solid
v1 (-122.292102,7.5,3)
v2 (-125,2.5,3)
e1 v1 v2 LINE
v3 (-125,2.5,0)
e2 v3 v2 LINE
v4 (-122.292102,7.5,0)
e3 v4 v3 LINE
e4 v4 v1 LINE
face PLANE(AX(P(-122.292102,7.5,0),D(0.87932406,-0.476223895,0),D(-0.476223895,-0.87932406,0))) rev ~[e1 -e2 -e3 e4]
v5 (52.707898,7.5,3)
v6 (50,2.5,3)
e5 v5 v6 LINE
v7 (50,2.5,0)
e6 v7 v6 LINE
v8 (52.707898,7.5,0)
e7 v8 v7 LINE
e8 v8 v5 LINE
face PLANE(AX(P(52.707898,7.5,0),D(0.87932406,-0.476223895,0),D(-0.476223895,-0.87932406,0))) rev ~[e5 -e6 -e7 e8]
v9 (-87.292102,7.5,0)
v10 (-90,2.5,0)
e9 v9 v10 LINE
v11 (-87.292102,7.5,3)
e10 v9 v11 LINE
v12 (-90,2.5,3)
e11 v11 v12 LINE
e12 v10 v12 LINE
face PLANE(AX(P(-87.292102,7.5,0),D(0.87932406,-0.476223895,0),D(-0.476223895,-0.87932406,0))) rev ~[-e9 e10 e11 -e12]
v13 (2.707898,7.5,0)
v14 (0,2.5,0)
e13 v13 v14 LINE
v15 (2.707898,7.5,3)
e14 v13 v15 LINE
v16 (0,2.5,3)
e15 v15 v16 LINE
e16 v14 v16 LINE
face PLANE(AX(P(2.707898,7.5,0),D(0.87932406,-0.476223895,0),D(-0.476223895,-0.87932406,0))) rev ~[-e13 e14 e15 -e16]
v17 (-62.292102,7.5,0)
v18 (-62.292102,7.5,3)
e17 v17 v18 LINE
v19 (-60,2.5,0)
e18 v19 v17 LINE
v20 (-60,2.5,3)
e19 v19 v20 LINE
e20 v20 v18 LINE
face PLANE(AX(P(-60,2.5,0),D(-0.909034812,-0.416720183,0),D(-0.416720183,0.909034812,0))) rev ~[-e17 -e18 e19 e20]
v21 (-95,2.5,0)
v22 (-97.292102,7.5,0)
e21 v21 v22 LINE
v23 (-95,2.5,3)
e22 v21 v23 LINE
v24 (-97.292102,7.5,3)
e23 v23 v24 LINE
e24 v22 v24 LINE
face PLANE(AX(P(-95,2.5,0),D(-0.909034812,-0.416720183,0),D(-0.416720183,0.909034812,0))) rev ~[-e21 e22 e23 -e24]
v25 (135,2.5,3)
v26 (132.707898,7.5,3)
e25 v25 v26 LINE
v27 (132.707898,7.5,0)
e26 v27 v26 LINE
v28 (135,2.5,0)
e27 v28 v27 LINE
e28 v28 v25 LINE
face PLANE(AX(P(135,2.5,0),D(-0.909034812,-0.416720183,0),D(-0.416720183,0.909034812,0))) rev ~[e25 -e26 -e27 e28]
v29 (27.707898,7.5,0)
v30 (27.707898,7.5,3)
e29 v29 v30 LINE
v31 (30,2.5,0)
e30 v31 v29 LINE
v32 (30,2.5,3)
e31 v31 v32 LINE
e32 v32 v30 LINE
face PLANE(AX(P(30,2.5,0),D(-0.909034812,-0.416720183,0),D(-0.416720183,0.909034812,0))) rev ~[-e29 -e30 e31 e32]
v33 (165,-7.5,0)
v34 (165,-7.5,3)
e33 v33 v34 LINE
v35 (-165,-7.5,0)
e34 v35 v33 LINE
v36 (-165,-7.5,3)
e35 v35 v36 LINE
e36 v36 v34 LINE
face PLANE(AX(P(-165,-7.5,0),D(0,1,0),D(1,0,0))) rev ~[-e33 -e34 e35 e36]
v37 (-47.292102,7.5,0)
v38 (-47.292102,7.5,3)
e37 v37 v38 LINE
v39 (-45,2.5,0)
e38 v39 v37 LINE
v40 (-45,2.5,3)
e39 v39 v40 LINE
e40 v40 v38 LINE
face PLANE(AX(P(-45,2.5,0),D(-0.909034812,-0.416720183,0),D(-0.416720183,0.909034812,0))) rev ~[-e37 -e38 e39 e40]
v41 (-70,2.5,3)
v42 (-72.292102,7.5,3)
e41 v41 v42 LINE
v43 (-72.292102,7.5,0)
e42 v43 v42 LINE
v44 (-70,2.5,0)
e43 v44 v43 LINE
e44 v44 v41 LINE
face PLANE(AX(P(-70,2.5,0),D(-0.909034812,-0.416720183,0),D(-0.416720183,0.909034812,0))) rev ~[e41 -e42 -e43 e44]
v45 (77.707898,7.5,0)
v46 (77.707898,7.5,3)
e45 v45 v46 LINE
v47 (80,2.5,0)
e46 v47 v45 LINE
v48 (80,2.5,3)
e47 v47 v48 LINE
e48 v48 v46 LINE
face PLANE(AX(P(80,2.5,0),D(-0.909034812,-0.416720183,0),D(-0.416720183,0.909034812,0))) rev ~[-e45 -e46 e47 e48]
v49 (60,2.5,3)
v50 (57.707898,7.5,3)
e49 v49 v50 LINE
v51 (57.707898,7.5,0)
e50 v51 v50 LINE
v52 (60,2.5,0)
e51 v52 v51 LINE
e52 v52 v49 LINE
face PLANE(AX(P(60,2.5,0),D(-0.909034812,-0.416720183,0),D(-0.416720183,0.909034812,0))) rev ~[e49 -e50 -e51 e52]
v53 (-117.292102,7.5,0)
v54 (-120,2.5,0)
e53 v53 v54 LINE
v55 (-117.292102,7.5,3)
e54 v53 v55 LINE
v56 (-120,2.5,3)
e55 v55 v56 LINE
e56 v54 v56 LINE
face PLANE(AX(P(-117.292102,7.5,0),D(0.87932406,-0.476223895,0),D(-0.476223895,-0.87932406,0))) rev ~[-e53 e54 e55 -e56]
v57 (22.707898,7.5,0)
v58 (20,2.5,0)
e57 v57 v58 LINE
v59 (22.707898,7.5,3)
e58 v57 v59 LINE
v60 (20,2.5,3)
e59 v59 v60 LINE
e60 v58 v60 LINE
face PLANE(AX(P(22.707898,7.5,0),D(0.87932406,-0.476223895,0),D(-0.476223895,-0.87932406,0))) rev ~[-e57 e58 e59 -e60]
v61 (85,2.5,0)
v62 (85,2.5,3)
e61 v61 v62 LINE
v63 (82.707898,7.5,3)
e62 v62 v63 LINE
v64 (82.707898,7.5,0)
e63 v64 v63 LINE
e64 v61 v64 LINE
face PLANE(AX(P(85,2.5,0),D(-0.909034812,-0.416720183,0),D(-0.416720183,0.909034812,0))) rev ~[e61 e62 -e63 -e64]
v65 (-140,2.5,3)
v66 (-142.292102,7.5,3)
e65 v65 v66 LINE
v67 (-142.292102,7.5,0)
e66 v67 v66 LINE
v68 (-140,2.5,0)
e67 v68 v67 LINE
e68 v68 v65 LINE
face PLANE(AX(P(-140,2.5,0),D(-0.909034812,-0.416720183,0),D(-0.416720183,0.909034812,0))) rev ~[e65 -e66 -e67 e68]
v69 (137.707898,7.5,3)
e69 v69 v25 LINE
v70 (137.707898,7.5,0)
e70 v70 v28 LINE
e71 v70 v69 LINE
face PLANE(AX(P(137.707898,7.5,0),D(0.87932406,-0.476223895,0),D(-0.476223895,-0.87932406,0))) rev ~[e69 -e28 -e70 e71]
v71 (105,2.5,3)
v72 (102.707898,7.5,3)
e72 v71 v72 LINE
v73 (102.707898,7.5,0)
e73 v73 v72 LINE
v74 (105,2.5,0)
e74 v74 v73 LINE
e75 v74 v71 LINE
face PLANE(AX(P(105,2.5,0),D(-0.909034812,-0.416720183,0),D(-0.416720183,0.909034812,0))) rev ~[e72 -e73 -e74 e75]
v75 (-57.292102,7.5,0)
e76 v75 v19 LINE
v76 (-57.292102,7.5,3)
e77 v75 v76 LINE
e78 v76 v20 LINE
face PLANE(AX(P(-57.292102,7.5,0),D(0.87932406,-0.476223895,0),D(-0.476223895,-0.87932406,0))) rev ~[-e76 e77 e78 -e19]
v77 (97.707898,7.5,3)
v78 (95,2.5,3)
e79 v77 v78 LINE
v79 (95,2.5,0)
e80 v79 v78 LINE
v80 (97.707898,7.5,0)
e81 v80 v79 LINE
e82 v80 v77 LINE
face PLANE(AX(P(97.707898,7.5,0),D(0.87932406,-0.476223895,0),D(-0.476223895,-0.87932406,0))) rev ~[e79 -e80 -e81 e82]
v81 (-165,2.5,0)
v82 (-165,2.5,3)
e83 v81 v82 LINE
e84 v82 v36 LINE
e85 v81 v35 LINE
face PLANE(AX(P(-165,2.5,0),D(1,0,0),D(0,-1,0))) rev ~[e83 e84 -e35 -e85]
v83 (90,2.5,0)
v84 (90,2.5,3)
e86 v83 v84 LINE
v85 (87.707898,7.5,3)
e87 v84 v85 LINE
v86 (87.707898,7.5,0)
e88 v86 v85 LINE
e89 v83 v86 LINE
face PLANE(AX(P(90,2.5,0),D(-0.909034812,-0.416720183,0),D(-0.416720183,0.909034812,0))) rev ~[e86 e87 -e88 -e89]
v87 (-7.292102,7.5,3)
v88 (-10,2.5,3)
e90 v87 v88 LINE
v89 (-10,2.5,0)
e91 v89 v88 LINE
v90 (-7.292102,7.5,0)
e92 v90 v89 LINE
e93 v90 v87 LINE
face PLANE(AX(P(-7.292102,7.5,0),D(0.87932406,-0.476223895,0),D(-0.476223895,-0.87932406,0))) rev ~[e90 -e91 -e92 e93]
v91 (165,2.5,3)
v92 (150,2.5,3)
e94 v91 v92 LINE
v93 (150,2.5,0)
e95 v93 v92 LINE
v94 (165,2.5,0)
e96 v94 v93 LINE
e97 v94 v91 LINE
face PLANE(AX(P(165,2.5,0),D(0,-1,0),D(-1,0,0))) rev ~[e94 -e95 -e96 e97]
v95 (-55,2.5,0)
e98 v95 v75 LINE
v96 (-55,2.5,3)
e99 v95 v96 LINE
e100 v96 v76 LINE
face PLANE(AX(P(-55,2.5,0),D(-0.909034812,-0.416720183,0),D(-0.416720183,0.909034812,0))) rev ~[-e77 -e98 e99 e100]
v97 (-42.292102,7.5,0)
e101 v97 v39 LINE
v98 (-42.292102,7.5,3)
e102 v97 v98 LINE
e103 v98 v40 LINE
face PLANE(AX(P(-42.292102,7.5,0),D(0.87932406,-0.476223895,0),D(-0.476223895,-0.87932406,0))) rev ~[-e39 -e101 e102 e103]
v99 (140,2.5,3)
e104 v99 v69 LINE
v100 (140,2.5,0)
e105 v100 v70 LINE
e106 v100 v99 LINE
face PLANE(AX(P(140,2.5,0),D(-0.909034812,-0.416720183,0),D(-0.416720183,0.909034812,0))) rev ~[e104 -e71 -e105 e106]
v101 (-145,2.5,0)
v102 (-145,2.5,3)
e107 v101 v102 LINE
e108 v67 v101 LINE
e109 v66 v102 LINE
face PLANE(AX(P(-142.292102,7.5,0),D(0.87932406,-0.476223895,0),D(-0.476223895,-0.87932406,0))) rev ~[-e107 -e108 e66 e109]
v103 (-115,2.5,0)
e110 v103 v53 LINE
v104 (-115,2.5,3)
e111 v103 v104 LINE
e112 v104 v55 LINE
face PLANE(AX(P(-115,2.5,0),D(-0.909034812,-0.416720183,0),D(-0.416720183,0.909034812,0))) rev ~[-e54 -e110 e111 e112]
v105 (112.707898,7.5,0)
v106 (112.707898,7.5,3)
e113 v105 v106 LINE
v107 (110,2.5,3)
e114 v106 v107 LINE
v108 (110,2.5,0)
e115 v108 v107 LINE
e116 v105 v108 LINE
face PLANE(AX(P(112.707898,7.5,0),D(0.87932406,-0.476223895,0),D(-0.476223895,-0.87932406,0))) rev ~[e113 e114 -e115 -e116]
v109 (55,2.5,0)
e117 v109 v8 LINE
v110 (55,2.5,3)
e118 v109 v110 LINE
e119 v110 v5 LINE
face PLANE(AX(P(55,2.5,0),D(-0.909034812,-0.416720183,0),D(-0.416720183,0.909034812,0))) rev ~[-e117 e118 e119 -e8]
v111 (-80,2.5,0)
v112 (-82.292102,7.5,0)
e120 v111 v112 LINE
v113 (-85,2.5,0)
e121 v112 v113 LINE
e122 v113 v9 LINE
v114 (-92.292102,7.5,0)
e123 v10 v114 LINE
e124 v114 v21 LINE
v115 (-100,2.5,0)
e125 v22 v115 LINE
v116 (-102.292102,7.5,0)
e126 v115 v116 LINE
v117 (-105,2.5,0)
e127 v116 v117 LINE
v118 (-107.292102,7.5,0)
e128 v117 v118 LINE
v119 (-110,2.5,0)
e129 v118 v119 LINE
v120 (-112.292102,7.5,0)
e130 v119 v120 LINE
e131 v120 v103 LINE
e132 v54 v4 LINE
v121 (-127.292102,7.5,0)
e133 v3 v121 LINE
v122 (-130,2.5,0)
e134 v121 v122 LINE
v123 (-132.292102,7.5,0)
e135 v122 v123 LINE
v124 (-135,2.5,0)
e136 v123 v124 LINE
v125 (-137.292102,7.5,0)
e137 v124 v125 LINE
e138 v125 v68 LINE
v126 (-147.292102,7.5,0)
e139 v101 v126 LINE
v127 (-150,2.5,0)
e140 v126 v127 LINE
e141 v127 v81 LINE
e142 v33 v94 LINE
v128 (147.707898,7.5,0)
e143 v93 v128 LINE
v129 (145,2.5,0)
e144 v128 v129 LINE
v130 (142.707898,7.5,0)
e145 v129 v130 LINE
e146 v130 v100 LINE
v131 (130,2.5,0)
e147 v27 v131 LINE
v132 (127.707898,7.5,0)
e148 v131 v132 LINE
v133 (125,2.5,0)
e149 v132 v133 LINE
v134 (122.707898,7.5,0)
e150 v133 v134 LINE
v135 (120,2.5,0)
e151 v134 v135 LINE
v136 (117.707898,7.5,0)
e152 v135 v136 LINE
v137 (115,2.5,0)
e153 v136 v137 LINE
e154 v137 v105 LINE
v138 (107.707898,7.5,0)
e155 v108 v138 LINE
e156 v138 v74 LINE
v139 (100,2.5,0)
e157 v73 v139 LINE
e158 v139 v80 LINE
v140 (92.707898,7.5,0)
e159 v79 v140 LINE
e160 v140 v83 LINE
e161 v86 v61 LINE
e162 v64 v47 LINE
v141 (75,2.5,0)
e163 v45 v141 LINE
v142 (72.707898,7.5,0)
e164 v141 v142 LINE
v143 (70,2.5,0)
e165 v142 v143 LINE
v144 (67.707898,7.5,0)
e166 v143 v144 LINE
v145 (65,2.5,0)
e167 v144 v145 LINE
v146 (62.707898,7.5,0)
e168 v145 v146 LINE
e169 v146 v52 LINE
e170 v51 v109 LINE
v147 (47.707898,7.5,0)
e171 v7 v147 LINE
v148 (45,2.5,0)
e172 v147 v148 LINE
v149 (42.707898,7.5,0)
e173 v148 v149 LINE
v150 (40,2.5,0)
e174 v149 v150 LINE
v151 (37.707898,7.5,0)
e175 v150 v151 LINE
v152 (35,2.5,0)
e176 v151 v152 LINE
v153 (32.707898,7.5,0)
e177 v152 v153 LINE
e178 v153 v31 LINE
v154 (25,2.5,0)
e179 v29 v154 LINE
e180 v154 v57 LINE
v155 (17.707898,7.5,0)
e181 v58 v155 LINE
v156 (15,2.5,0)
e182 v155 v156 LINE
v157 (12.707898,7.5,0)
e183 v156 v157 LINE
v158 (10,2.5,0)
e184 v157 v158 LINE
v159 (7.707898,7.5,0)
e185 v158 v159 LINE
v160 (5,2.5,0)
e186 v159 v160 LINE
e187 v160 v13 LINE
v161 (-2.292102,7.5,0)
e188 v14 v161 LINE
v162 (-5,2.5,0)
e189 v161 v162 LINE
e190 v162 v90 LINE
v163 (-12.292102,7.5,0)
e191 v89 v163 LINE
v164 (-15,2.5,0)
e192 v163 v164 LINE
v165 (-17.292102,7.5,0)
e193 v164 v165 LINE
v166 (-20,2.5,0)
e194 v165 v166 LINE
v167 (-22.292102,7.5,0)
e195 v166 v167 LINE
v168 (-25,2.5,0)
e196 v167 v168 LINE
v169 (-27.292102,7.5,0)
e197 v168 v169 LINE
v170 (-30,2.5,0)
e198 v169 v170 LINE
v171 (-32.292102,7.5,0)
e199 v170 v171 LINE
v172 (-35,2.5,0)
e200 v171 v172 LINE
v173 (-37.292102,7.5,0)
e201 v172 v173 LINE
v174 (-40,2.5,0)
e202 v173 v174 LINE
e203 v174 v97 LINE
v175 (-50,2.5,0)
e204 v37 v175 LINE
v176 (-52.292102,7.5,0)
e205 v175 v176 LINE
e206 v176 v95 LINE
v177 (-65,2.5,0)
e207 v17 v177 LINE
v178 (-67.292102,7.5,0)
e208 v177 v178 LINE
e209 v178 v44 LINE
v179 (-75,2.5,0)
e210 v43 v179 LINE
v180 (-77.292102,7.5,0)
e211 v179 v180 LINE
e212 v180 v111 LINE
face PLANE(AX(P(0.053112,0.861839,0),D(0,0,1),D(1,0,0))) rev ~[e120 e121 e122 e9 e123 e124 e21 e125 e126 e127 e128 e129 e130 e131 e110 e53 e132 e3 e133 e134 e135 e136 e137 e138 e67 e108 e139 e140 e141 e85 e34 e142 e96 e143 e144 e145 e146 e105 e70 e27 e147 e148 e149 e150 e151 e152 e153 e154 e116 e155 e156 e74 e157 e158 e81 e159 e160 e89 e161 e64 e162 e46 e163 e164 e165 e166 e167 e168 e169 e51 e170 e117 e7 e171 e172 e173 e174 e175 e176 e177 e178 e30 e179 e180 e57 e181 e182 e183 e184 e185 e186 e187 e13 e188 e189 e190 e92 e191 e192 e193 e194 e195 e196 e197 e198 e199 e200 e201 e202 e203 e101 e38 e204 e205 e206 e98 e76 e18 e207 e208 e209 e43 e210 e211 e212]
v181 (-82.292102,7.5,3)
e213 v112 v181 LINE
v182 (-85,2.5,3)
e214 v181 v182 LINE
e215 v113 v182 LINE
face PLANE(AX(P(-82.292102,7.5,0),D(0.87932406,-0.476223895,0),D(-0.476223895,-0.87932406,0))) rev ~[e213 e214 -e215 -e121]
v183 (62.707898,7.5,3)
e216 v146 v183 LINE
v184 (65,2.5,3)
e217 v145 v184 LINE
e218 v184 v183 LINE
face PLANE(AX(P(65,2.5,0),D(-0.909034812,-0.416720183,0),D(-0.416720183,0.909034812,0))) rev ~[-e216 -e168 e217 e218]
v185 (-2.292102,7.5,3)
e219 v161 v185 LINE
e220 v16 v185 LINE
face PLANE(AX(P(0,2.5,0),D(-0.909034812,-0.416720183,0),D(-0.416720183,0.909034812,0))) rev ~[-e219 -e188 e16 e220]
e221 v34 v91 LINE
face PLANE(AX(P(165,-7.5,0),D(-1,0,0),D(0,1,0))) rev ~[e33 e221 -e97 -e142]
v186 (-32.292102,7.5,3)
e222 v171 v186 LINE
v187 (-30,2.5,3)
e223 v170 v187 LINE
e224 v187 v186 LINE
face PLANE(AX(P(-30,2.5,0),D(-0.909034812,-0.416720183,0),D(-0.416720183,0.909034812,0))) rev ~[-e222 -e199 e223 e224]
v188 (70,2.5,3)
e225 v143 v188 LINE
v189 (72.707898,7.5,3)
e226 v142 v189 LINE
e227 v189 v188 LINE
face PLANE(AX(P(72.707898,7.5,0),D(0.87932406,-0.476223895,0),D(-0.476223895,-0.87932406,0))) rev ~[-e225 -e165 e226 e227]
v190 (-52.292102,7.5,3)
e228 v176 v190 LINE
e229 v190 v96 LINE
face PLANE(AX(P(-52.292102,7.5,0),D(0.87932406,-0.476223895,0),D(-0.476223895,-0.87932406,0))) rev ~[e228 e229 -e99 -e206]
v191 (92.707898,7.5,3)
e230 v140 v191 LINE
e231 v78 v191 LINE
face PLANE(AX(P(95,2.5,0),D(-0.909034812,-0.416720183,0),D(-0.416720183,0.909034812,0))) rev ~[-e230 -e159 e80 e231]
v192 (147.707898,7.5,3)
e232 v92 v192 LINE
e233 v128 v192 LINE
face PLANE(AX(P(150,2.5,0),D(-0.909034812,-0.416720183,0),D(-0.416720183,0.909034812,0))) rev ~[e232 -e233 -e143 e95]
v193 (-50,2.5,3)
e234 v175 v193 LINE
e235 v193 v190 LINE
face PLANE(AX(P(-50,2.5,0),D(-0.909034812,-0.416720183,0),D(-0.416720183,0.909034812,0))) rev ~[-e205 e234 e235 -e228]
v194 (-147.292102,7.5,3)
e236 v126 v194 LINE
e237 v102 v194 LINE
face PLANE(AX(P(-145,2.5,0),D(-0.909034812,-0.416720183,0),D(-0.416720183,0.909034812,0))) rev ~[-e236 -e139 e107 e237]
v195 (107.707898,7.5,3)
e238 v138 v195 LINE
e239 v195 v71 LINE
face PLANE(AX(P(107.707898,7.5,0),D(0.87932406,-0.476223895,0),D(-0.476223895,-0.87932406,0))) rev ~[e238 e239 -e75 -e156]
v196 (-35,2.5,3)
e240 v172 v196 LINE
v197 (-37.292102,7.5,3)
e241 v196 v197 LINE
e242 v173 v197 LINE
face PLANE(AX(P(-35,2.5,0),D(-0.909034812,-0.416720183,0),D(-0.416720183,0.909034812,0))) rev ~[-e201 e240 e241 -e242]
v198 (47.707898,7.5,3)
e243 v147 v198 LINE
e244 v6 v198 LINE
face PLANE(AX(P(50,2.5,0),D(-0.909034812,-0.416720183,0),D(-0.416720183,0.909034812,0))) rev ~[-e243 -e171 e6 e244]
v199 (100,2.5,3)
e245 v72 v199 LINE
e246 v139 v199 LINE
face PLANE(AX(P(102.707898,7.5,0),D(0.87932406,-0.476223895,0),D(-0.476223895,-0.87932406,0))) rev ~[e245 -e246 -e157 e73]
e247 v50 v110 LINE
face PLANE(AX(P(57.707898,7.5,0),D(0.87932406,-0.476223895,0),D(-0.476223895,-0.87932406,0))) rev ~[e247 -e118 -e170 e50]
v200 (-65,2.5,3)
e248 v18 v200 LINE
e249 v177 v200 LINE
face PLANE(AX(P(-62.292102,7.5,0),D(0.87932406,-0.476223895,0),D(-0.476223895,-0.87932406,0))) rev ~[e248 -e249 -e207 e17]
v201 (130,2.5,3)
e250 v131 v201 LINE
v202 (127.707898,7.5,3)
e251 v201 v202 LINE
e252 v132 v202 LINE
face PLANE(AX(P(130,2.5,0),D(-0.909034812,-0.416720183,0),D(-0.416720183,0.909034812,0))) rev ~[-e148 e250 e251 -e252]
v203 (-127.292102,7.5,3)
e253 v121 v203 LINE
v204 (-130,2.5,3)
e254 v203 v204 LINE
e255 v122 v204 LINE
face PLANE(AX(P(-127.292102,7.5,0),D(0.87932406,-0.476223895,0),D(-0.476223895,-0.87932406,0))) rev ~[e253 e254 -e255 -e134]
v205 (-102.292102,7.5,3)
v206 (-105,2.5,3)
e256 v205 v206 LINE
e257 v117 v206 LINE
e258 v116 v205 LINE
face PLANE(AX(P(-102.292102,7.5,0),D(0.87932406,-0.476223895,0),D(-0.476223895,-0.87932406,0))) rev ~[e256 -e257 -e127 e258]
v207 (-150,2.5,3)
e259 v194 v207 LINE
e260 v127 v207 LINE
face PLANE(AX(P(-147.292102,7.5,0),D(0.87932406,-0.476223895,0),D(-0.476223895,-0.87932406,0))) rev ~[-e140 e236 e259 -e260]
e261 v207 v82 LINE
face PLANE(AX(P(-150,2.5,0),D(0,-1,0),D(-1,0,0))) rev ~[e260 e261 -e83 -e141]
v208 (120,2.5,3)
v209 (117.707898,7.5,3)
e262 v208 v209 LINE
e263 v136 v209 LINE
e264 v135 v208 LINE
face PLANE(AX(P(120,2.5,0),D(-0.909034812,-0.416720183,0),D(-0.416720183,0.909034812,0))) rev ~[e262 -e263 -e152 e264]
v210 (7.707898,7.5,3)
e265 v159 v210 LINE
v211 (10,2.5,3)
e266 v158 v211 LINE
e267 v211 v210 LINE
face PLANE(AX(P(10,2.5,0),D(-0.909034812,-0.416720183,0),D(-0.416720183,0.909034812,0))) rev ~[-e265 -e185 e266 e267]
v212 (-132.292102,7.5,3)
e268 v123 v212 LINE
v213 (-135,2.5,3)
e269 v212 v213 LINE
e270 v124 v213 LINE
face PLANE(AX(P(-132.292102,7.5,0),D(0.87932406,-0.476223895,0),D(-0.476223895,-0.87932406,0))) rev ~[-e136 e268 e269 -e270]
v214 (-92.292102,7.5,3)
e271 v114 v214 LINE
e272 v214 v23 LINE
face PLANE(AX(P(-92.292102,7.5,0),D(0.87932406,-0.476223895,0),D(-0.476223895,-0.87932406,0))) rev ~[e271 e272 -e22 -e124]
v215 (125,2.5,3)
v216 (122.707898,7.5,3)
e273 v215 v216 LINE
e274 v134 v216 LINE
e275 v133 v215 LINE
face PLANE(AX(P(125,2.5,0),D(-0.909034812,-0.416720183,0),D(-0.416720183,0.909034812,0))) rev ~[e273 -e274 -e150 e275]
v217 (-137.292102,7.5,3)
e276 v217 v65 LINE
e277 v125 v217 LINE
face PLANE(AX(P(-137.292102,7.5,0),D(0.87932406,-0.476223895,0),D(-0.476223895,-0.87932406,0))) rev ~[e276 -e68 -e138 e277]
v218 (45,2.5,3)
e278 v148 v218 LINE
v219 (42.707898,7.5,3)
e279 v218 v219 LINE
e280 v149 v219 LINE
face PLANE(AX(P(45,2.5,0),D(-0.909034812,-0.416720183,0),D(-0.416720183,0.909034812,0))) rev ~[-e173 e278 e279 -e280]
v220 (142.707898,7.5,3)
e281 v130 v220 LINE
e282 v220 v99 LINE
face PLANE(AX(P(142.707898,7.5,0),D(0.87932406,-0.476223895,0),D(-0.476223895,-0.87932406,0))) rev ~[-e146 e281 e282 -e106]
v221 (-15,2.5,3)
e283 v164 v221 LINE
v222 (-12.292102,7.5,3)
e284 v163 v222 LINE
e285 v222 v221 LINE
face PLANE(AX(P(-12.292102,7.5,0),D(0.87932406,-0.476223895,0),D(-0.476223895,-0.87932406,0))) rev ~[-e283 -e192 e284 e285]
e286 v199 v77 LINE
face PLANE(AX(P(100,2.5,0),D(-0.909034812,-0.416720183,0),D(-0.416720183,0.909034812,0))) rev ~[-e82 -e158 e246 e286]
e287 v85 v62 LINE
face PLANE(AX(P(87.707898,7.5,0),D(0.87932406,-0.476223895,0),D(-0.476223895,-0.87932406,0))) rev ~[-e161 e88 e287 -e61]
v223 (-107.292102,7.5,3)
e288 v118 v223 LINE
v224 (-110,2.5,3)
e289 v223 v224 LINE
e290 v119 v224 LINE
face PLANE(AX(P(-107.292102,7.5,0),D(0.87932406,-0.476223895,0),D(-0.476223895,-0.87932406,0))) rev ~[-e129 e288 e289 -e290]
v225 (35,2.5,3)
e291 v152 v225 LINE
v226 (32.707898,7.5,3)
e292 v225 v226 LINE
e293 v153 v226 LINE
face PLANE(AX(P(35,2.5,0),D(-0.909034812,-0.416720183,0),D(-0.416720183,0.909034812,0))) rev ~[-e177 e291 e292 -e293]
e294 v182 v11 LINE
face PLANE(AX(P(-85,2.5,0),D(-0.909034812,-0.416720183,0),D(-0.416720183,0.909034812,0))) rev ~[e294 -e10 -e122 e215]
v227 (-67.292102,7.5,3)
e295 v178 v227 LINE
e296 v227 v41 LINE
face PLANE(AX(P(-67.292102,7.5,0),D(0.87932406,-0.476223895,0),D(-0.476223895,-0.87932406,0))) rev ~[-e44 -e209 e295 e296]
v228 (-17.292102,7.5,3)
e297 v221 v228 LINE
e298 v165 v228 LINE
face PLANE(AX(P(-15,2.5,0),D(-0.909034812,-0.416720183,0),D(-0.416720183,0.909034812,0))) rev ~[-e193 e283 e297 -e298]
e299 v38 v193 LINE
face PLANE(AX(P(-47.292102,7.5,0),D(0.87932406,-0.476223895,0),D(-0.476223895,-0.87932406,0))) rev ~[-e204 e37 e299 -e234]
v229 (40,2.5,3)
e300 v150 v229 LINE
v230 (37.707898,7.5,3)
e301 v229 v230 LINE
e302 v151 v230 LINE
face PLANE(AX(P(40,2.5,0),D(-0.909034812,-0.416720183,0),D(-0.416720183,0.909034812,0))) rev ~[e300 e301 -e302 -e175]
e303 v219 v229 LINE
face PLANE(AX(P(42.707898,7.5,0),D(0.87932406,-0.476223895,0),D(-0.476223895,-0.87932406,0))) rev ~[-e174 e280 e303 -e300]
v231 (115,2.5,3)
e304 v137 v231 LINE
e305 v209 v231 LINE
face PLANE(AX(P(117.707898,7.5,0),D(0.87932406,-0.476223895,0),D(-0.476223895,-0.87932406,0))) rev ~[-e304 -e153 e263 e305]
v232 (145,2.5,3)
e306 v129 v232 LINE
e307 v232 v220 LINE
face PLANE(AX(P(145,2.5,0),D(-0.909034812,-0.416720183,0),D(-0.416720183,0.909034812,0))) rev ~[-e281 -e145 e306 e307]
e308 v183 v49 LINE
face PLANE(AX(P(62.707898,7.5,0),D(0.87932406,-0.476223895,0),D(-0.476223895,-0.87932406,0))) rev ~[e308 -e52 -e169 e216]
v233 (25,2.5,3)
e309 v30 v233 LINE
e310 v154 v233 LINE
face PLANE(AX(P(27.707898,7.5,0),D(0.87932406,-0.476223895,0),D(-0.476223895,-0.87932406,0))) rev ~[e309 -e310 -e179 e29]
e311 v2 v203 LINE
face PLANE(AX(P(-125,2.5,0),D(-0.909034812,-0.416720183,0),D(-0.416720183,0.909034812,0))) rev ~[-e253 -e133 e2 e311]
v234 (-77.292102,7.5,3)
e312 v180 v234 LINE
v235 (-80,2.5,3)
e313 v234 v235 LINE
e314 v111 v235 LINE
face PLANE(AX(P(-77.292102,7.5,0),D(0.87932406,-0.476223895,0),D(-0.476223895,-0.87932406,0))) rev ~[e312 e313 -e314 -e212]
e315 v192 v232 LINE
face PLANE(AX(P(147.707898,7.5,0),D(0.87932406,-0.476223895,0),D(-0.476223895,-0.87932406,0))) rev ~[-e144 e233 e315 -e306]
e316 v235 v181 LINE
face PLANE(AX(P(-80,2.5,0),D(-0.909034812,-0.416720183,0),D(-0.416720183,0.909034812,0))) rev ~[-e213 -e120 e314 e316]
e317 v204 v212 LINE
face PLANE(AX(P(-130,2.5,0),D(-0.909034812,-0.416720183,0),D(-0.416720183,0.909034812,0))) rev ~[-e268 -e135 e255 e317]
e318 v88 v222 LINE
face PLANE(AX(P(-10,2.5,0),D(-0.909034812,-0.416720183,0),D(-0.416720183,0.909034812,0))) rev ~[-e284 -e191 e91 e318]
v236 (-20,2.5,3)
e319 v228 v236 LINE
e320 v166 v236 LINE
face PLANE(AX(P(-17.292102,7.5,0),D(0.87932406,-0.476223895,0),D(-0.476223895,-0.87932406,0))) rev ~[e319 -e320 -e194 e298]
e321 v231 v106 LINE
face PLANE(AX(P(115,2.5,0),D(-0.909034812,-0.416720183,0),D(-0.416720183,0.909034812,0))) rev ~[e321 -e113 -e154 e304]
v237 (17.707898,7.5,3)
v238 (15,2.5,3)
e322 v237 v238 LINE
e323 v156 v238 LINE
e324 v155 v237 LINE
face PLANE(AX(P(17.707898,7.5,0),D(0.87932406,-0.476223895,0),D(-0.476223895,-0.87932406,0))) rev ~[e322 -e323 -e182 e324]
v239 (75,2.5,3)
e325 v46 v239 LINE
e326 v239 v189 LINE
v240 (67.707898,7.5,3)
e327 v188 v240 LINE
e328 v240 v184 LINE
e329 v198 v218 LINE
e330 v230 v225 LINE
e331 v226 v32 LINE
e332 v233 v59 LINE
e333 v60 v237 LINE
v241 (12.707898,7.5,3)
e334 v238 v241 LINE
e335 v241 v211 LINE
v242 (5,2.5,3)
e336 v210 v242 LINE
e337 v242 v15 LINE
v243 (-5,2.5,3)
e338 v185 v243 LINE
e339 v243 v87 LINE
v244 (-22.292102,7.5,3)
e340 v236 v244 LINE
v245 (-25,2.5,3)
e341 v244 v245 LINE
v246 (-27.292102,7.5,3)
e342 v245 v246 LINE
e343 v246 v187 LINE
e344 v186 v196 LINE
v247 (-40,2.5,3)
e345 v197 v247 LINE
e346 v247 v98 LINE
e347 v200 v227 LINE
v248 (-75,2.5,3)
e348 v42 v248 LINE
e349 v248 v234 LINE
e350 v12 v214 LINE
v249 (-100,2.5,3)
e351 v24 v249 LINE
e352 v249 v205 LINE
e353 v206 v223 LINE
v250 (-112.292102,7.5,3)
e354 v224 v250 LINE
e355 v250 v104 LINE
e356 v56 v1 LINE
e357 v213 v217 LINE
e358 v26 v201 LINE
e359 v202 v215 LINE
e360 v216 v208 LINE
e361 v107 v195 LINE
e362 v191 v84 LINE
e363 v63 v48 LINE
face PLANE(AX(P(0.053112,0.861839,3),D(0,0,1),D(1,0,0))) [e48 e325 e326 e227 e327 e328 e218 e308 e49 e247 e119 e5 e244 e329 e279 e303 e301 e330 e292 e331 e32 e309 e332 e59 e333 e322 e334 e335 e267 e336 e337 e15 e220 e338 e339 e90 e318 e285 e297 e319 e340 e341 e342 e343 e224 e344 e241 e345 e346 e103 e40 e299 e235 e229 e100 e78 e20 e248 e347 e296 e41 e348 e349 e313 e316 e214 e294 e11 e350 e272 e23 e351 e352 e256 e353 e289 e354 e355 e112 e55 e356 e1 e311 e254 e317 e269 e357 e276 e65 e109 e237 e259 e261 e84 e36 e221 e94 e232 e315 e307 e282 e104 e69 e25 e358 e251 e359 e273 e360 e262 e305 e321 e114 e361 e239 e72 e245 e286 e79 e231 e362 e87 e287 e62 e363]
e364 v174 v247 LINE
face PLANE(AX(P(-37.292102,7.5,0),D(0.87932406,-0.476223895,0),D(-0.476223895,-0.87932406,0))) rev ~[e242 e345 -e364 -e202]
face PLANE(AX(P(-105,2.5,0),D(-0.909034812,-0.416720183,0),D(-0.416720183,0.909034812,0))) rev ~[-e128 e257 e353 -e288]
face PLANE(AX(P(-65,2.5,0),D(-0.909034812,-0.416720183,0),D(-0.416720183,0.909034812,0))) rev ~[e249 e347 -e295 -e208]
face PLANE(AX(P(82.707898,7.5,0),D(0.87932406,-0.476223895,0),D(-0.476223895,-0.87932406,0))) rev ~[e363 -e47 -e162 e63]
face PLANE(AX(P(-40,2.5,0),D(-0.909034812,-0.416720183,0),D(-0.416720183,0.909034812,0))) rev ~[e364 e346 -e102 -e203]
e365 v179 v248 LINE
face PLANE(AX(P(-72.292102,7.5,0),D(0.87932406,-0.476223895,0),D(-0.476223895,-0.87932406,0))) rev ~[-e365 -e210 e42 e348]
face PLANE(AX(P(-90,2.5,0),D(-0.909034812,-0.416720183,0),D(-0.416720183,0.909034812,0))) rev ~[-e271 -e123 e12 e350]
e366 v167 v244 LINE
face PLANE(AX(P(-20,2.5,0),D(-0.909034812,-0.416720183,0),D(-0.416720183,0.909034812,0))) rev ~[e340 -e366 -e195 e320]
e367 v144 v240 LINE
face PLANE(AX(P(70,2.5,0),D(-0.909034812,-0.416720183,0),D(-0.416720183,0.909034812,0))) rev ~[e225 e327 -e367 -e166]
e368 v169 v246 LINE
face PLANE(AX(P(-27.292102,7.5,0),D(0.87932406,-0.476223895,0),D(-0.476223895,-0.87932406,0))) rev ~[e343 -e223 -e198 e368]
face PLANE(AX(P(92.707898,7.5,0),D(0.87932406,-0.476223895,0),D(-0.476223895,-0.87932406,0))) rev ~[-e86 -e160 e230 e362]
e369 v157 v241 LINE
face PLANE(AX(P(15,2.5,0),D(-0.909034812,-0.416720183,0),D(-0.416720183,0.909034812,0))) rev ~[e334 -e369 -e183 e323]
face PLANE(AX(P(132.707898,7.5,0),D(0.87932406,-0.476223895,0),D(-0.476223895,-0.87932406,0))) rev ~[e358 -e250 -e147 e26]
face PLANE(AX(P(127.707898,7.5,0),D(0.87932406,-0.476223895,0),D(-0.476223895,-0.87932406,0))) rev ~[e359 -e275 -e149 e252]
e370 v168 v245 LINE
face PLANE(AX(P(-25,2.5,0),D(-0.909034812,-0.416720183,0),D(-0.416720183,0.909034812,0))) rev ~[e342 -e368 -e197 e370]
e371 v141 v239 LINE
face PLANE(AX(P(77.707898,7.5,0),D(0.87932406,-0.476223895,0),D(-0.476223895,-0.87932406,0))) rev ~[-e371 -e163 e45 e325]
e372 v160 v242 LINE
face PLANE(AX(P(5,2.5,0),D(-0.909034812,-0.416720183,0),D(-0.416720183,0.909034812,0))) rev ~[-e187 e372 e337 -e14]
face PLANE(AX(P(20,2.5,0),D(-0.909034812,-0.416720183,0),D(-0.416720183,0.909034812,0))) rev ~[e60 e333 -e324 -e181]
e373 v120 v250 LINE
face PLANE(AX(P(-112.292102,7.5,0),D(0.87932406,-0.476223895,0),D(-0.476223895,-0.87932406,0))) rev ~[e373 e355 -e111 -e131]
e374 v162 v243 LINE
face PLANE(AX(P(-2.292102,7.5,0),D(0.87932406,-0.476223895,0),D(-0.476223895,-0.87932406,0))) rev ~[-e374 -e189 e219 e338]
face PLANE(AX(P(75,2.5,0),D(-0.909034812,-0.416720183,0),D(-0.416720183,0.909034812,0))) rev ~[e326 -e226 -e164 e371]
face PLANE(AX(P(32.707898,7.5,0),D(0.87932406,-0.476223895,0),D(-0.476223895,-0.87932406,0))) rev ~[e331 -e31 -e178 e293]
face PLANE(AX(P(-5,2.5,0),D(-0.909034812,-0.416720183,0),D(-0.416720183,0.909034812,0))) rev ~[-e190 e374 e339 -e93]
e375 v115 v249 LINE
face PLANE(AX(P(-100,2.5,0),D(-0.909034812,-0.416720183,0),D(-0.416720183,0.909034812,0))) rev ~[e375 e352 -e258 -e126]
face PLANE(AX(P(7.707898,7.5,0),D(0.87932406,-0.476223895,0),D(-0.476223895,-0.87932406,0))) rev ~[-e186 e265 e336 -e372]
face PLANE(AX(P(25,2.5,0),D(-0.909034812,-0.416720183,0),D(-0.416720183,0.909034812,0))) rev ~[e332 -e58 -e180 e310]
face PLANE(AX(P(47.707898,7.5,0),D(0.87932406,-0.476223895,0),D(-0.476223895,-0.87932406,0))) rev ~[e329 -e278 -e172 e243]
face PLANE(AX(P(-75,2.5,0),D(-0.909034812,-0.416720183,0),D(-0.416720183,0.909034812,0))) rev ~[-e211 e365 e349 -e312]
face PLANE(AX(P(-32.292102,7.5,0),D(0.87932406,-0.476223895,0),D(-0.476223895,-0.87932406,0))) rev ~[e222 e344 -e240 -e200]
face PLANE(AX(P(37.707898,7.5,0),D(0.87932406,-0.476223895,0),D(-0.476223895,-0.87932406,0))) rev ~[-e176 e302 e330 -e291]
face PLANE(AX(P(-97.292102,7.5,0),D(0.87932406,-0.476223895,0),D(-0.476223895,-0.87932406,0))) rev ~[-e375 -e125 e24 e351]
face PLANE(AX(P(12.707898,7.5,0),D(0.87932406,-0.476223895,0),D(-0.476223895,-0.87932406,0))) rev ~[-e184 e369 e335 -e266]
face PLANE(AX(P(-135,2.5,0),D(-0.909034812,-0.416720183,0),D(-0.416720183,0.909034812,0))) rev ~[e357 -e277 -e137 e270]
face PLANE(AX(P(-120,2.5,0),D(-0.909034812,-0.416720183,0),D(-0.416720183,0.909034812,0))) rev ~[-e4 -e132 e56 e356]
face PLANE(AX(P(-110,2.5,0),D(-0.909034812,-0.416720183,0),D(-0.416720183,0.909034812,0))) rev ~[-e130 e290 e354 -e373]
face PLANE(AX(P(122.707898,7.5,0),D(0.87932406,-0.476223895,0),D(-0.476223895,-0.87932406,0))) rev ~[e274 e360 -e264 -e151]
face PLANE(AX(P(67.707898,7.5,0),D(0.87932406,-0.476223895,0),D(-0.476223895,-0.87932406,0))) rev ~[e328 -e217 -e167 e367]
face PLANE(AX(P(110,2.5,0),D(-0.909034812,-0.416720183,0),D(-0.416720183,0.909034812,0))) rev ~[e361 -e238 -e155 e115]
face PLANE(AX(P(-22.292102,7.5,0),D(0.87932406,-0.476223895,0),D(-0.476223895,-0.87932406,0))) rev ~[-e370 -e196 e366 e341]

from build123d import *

# Parameters (mm, degrees)
SALIENTE_EXTRUIR1_DEPTH = 3


with BuildPart() as part:
    # Croquis1 → Saliente-Extruir1 (new body)
    with BuildSketch(Plane.XY):
        Polygon((-150, 2.5), (-165, 2.5), (-165, -7.5), (-150, -7.5), (150, -7.5), (165, -7.5), (165, 2.5), (150, 2.5), (147.707897557, 7.5), (145, 2.5), (142.707897557, 7.5), (140, 2.5), (137.707897557, 7.5), (135, 2.5), (132.707897557, 7.5), (130, 2.5), (127.707897557, 7.5), (125, 2.5), (122.707897557, 7.5), (120, 2.5), (117.707897557, 7.5), (115, 2.5), (112.707897557, 7.5), (110, 2.5), (107.707897557, 7.5), (105, 2.5), (102.707897557, 7.5), (100, 2.5), (97.707897557, 7.5), (95, 2.5), (92.707897557, 7.5), (90, 2.5), (87.707897557, 7.5), (85, 2.5), (82.707897557, 7.5), (80, 2.5), (77.707897557, 7.5), (75, 2.5), (72.707897557, 7.5), (70, 2.5), (67.707897557, 7.5), (65, 2.5), (62.707897557, 7.5), (60, 2.5), (57.707897557, 7.5), (55, 2.5), (52.707897557, 7.5), (50, 2.5), (47.707897557, 7.5), (45, 2.5), (42.707897557, 7.5), (40, 2.5), (37.707897557, 7.5), (35, 2.5), (32.707897557, 7.5), (30, 2.5), (27.707897557, 7.5), (25, 2.5), (22.707897557, 7.5), (20, 2.5), (17.707897557, 7.5), (15, 2.5), (12.707897557, 7.5), (10, 2.5), (7.707897557, 7.5), (5, 2.5), (2.707897557, 7.5), (0, 2.5), (-2.292102443, 7.5), (-5, 2.5), (-7.292102443, 7.5), (-10, 2.5), (-12.292102443, 7.5), (-15, 2.5), (-17.292102443, 7.5), (-20, 2.5), (-22.292102443, 7.5), (-25, 2.5), (-27.292102443, 7.5), (-30, 2.5), (-32.292102443, 7.5), (-35, 2.5), (-37.292102443, 7.5), (-40, 2.5), (-42.292102443, 7.5), (-45, 2.5), (-47.292102443, 7.5), (-50, 2.5), (-52.292102443, 7.5), (-55, 2.5), (-57.292102443, 7.5), (-60, 2.5), (-62.292102443, 7.5), (-65, 2.5), (-67.292102443, 7.5), (-70, 2.5), (-72.292102443, 7.5), (-75, 2.5), (-77.292102443, 7.5), (-80, 2.5), (-82.292102443, 7.5), (-85, 2.5), (-87.292102443, 7.5), (-90, 2.5), (-92.292102443, 7.5), (-95, 2.5), (-97.292102443, 7.5), (-100, 2.5), (-102.292102443, 7.5), (-105, 2.5), (-107.292102443, 7.5), (-110, 2.5), (-112.292102443, 7.5), (-115, 2.5), (-117.292102443, 7.5), (-120, 2.5), (-122.292102443, 7.5), (-125, 2.5), (-127.292102443, 7.5), (-130, 2.5), (-132.292102443, 7.5), (-135, 2.5), (-137.292102443, 7.5), (-140, 2.5), (-142.292102443, 7.5), (-145, 2.5), (-147.292102443, 7.5), align=None)
    extrude(amount=SALIENTE_EXTRUIR1_DEPTH)


solid = part.part
